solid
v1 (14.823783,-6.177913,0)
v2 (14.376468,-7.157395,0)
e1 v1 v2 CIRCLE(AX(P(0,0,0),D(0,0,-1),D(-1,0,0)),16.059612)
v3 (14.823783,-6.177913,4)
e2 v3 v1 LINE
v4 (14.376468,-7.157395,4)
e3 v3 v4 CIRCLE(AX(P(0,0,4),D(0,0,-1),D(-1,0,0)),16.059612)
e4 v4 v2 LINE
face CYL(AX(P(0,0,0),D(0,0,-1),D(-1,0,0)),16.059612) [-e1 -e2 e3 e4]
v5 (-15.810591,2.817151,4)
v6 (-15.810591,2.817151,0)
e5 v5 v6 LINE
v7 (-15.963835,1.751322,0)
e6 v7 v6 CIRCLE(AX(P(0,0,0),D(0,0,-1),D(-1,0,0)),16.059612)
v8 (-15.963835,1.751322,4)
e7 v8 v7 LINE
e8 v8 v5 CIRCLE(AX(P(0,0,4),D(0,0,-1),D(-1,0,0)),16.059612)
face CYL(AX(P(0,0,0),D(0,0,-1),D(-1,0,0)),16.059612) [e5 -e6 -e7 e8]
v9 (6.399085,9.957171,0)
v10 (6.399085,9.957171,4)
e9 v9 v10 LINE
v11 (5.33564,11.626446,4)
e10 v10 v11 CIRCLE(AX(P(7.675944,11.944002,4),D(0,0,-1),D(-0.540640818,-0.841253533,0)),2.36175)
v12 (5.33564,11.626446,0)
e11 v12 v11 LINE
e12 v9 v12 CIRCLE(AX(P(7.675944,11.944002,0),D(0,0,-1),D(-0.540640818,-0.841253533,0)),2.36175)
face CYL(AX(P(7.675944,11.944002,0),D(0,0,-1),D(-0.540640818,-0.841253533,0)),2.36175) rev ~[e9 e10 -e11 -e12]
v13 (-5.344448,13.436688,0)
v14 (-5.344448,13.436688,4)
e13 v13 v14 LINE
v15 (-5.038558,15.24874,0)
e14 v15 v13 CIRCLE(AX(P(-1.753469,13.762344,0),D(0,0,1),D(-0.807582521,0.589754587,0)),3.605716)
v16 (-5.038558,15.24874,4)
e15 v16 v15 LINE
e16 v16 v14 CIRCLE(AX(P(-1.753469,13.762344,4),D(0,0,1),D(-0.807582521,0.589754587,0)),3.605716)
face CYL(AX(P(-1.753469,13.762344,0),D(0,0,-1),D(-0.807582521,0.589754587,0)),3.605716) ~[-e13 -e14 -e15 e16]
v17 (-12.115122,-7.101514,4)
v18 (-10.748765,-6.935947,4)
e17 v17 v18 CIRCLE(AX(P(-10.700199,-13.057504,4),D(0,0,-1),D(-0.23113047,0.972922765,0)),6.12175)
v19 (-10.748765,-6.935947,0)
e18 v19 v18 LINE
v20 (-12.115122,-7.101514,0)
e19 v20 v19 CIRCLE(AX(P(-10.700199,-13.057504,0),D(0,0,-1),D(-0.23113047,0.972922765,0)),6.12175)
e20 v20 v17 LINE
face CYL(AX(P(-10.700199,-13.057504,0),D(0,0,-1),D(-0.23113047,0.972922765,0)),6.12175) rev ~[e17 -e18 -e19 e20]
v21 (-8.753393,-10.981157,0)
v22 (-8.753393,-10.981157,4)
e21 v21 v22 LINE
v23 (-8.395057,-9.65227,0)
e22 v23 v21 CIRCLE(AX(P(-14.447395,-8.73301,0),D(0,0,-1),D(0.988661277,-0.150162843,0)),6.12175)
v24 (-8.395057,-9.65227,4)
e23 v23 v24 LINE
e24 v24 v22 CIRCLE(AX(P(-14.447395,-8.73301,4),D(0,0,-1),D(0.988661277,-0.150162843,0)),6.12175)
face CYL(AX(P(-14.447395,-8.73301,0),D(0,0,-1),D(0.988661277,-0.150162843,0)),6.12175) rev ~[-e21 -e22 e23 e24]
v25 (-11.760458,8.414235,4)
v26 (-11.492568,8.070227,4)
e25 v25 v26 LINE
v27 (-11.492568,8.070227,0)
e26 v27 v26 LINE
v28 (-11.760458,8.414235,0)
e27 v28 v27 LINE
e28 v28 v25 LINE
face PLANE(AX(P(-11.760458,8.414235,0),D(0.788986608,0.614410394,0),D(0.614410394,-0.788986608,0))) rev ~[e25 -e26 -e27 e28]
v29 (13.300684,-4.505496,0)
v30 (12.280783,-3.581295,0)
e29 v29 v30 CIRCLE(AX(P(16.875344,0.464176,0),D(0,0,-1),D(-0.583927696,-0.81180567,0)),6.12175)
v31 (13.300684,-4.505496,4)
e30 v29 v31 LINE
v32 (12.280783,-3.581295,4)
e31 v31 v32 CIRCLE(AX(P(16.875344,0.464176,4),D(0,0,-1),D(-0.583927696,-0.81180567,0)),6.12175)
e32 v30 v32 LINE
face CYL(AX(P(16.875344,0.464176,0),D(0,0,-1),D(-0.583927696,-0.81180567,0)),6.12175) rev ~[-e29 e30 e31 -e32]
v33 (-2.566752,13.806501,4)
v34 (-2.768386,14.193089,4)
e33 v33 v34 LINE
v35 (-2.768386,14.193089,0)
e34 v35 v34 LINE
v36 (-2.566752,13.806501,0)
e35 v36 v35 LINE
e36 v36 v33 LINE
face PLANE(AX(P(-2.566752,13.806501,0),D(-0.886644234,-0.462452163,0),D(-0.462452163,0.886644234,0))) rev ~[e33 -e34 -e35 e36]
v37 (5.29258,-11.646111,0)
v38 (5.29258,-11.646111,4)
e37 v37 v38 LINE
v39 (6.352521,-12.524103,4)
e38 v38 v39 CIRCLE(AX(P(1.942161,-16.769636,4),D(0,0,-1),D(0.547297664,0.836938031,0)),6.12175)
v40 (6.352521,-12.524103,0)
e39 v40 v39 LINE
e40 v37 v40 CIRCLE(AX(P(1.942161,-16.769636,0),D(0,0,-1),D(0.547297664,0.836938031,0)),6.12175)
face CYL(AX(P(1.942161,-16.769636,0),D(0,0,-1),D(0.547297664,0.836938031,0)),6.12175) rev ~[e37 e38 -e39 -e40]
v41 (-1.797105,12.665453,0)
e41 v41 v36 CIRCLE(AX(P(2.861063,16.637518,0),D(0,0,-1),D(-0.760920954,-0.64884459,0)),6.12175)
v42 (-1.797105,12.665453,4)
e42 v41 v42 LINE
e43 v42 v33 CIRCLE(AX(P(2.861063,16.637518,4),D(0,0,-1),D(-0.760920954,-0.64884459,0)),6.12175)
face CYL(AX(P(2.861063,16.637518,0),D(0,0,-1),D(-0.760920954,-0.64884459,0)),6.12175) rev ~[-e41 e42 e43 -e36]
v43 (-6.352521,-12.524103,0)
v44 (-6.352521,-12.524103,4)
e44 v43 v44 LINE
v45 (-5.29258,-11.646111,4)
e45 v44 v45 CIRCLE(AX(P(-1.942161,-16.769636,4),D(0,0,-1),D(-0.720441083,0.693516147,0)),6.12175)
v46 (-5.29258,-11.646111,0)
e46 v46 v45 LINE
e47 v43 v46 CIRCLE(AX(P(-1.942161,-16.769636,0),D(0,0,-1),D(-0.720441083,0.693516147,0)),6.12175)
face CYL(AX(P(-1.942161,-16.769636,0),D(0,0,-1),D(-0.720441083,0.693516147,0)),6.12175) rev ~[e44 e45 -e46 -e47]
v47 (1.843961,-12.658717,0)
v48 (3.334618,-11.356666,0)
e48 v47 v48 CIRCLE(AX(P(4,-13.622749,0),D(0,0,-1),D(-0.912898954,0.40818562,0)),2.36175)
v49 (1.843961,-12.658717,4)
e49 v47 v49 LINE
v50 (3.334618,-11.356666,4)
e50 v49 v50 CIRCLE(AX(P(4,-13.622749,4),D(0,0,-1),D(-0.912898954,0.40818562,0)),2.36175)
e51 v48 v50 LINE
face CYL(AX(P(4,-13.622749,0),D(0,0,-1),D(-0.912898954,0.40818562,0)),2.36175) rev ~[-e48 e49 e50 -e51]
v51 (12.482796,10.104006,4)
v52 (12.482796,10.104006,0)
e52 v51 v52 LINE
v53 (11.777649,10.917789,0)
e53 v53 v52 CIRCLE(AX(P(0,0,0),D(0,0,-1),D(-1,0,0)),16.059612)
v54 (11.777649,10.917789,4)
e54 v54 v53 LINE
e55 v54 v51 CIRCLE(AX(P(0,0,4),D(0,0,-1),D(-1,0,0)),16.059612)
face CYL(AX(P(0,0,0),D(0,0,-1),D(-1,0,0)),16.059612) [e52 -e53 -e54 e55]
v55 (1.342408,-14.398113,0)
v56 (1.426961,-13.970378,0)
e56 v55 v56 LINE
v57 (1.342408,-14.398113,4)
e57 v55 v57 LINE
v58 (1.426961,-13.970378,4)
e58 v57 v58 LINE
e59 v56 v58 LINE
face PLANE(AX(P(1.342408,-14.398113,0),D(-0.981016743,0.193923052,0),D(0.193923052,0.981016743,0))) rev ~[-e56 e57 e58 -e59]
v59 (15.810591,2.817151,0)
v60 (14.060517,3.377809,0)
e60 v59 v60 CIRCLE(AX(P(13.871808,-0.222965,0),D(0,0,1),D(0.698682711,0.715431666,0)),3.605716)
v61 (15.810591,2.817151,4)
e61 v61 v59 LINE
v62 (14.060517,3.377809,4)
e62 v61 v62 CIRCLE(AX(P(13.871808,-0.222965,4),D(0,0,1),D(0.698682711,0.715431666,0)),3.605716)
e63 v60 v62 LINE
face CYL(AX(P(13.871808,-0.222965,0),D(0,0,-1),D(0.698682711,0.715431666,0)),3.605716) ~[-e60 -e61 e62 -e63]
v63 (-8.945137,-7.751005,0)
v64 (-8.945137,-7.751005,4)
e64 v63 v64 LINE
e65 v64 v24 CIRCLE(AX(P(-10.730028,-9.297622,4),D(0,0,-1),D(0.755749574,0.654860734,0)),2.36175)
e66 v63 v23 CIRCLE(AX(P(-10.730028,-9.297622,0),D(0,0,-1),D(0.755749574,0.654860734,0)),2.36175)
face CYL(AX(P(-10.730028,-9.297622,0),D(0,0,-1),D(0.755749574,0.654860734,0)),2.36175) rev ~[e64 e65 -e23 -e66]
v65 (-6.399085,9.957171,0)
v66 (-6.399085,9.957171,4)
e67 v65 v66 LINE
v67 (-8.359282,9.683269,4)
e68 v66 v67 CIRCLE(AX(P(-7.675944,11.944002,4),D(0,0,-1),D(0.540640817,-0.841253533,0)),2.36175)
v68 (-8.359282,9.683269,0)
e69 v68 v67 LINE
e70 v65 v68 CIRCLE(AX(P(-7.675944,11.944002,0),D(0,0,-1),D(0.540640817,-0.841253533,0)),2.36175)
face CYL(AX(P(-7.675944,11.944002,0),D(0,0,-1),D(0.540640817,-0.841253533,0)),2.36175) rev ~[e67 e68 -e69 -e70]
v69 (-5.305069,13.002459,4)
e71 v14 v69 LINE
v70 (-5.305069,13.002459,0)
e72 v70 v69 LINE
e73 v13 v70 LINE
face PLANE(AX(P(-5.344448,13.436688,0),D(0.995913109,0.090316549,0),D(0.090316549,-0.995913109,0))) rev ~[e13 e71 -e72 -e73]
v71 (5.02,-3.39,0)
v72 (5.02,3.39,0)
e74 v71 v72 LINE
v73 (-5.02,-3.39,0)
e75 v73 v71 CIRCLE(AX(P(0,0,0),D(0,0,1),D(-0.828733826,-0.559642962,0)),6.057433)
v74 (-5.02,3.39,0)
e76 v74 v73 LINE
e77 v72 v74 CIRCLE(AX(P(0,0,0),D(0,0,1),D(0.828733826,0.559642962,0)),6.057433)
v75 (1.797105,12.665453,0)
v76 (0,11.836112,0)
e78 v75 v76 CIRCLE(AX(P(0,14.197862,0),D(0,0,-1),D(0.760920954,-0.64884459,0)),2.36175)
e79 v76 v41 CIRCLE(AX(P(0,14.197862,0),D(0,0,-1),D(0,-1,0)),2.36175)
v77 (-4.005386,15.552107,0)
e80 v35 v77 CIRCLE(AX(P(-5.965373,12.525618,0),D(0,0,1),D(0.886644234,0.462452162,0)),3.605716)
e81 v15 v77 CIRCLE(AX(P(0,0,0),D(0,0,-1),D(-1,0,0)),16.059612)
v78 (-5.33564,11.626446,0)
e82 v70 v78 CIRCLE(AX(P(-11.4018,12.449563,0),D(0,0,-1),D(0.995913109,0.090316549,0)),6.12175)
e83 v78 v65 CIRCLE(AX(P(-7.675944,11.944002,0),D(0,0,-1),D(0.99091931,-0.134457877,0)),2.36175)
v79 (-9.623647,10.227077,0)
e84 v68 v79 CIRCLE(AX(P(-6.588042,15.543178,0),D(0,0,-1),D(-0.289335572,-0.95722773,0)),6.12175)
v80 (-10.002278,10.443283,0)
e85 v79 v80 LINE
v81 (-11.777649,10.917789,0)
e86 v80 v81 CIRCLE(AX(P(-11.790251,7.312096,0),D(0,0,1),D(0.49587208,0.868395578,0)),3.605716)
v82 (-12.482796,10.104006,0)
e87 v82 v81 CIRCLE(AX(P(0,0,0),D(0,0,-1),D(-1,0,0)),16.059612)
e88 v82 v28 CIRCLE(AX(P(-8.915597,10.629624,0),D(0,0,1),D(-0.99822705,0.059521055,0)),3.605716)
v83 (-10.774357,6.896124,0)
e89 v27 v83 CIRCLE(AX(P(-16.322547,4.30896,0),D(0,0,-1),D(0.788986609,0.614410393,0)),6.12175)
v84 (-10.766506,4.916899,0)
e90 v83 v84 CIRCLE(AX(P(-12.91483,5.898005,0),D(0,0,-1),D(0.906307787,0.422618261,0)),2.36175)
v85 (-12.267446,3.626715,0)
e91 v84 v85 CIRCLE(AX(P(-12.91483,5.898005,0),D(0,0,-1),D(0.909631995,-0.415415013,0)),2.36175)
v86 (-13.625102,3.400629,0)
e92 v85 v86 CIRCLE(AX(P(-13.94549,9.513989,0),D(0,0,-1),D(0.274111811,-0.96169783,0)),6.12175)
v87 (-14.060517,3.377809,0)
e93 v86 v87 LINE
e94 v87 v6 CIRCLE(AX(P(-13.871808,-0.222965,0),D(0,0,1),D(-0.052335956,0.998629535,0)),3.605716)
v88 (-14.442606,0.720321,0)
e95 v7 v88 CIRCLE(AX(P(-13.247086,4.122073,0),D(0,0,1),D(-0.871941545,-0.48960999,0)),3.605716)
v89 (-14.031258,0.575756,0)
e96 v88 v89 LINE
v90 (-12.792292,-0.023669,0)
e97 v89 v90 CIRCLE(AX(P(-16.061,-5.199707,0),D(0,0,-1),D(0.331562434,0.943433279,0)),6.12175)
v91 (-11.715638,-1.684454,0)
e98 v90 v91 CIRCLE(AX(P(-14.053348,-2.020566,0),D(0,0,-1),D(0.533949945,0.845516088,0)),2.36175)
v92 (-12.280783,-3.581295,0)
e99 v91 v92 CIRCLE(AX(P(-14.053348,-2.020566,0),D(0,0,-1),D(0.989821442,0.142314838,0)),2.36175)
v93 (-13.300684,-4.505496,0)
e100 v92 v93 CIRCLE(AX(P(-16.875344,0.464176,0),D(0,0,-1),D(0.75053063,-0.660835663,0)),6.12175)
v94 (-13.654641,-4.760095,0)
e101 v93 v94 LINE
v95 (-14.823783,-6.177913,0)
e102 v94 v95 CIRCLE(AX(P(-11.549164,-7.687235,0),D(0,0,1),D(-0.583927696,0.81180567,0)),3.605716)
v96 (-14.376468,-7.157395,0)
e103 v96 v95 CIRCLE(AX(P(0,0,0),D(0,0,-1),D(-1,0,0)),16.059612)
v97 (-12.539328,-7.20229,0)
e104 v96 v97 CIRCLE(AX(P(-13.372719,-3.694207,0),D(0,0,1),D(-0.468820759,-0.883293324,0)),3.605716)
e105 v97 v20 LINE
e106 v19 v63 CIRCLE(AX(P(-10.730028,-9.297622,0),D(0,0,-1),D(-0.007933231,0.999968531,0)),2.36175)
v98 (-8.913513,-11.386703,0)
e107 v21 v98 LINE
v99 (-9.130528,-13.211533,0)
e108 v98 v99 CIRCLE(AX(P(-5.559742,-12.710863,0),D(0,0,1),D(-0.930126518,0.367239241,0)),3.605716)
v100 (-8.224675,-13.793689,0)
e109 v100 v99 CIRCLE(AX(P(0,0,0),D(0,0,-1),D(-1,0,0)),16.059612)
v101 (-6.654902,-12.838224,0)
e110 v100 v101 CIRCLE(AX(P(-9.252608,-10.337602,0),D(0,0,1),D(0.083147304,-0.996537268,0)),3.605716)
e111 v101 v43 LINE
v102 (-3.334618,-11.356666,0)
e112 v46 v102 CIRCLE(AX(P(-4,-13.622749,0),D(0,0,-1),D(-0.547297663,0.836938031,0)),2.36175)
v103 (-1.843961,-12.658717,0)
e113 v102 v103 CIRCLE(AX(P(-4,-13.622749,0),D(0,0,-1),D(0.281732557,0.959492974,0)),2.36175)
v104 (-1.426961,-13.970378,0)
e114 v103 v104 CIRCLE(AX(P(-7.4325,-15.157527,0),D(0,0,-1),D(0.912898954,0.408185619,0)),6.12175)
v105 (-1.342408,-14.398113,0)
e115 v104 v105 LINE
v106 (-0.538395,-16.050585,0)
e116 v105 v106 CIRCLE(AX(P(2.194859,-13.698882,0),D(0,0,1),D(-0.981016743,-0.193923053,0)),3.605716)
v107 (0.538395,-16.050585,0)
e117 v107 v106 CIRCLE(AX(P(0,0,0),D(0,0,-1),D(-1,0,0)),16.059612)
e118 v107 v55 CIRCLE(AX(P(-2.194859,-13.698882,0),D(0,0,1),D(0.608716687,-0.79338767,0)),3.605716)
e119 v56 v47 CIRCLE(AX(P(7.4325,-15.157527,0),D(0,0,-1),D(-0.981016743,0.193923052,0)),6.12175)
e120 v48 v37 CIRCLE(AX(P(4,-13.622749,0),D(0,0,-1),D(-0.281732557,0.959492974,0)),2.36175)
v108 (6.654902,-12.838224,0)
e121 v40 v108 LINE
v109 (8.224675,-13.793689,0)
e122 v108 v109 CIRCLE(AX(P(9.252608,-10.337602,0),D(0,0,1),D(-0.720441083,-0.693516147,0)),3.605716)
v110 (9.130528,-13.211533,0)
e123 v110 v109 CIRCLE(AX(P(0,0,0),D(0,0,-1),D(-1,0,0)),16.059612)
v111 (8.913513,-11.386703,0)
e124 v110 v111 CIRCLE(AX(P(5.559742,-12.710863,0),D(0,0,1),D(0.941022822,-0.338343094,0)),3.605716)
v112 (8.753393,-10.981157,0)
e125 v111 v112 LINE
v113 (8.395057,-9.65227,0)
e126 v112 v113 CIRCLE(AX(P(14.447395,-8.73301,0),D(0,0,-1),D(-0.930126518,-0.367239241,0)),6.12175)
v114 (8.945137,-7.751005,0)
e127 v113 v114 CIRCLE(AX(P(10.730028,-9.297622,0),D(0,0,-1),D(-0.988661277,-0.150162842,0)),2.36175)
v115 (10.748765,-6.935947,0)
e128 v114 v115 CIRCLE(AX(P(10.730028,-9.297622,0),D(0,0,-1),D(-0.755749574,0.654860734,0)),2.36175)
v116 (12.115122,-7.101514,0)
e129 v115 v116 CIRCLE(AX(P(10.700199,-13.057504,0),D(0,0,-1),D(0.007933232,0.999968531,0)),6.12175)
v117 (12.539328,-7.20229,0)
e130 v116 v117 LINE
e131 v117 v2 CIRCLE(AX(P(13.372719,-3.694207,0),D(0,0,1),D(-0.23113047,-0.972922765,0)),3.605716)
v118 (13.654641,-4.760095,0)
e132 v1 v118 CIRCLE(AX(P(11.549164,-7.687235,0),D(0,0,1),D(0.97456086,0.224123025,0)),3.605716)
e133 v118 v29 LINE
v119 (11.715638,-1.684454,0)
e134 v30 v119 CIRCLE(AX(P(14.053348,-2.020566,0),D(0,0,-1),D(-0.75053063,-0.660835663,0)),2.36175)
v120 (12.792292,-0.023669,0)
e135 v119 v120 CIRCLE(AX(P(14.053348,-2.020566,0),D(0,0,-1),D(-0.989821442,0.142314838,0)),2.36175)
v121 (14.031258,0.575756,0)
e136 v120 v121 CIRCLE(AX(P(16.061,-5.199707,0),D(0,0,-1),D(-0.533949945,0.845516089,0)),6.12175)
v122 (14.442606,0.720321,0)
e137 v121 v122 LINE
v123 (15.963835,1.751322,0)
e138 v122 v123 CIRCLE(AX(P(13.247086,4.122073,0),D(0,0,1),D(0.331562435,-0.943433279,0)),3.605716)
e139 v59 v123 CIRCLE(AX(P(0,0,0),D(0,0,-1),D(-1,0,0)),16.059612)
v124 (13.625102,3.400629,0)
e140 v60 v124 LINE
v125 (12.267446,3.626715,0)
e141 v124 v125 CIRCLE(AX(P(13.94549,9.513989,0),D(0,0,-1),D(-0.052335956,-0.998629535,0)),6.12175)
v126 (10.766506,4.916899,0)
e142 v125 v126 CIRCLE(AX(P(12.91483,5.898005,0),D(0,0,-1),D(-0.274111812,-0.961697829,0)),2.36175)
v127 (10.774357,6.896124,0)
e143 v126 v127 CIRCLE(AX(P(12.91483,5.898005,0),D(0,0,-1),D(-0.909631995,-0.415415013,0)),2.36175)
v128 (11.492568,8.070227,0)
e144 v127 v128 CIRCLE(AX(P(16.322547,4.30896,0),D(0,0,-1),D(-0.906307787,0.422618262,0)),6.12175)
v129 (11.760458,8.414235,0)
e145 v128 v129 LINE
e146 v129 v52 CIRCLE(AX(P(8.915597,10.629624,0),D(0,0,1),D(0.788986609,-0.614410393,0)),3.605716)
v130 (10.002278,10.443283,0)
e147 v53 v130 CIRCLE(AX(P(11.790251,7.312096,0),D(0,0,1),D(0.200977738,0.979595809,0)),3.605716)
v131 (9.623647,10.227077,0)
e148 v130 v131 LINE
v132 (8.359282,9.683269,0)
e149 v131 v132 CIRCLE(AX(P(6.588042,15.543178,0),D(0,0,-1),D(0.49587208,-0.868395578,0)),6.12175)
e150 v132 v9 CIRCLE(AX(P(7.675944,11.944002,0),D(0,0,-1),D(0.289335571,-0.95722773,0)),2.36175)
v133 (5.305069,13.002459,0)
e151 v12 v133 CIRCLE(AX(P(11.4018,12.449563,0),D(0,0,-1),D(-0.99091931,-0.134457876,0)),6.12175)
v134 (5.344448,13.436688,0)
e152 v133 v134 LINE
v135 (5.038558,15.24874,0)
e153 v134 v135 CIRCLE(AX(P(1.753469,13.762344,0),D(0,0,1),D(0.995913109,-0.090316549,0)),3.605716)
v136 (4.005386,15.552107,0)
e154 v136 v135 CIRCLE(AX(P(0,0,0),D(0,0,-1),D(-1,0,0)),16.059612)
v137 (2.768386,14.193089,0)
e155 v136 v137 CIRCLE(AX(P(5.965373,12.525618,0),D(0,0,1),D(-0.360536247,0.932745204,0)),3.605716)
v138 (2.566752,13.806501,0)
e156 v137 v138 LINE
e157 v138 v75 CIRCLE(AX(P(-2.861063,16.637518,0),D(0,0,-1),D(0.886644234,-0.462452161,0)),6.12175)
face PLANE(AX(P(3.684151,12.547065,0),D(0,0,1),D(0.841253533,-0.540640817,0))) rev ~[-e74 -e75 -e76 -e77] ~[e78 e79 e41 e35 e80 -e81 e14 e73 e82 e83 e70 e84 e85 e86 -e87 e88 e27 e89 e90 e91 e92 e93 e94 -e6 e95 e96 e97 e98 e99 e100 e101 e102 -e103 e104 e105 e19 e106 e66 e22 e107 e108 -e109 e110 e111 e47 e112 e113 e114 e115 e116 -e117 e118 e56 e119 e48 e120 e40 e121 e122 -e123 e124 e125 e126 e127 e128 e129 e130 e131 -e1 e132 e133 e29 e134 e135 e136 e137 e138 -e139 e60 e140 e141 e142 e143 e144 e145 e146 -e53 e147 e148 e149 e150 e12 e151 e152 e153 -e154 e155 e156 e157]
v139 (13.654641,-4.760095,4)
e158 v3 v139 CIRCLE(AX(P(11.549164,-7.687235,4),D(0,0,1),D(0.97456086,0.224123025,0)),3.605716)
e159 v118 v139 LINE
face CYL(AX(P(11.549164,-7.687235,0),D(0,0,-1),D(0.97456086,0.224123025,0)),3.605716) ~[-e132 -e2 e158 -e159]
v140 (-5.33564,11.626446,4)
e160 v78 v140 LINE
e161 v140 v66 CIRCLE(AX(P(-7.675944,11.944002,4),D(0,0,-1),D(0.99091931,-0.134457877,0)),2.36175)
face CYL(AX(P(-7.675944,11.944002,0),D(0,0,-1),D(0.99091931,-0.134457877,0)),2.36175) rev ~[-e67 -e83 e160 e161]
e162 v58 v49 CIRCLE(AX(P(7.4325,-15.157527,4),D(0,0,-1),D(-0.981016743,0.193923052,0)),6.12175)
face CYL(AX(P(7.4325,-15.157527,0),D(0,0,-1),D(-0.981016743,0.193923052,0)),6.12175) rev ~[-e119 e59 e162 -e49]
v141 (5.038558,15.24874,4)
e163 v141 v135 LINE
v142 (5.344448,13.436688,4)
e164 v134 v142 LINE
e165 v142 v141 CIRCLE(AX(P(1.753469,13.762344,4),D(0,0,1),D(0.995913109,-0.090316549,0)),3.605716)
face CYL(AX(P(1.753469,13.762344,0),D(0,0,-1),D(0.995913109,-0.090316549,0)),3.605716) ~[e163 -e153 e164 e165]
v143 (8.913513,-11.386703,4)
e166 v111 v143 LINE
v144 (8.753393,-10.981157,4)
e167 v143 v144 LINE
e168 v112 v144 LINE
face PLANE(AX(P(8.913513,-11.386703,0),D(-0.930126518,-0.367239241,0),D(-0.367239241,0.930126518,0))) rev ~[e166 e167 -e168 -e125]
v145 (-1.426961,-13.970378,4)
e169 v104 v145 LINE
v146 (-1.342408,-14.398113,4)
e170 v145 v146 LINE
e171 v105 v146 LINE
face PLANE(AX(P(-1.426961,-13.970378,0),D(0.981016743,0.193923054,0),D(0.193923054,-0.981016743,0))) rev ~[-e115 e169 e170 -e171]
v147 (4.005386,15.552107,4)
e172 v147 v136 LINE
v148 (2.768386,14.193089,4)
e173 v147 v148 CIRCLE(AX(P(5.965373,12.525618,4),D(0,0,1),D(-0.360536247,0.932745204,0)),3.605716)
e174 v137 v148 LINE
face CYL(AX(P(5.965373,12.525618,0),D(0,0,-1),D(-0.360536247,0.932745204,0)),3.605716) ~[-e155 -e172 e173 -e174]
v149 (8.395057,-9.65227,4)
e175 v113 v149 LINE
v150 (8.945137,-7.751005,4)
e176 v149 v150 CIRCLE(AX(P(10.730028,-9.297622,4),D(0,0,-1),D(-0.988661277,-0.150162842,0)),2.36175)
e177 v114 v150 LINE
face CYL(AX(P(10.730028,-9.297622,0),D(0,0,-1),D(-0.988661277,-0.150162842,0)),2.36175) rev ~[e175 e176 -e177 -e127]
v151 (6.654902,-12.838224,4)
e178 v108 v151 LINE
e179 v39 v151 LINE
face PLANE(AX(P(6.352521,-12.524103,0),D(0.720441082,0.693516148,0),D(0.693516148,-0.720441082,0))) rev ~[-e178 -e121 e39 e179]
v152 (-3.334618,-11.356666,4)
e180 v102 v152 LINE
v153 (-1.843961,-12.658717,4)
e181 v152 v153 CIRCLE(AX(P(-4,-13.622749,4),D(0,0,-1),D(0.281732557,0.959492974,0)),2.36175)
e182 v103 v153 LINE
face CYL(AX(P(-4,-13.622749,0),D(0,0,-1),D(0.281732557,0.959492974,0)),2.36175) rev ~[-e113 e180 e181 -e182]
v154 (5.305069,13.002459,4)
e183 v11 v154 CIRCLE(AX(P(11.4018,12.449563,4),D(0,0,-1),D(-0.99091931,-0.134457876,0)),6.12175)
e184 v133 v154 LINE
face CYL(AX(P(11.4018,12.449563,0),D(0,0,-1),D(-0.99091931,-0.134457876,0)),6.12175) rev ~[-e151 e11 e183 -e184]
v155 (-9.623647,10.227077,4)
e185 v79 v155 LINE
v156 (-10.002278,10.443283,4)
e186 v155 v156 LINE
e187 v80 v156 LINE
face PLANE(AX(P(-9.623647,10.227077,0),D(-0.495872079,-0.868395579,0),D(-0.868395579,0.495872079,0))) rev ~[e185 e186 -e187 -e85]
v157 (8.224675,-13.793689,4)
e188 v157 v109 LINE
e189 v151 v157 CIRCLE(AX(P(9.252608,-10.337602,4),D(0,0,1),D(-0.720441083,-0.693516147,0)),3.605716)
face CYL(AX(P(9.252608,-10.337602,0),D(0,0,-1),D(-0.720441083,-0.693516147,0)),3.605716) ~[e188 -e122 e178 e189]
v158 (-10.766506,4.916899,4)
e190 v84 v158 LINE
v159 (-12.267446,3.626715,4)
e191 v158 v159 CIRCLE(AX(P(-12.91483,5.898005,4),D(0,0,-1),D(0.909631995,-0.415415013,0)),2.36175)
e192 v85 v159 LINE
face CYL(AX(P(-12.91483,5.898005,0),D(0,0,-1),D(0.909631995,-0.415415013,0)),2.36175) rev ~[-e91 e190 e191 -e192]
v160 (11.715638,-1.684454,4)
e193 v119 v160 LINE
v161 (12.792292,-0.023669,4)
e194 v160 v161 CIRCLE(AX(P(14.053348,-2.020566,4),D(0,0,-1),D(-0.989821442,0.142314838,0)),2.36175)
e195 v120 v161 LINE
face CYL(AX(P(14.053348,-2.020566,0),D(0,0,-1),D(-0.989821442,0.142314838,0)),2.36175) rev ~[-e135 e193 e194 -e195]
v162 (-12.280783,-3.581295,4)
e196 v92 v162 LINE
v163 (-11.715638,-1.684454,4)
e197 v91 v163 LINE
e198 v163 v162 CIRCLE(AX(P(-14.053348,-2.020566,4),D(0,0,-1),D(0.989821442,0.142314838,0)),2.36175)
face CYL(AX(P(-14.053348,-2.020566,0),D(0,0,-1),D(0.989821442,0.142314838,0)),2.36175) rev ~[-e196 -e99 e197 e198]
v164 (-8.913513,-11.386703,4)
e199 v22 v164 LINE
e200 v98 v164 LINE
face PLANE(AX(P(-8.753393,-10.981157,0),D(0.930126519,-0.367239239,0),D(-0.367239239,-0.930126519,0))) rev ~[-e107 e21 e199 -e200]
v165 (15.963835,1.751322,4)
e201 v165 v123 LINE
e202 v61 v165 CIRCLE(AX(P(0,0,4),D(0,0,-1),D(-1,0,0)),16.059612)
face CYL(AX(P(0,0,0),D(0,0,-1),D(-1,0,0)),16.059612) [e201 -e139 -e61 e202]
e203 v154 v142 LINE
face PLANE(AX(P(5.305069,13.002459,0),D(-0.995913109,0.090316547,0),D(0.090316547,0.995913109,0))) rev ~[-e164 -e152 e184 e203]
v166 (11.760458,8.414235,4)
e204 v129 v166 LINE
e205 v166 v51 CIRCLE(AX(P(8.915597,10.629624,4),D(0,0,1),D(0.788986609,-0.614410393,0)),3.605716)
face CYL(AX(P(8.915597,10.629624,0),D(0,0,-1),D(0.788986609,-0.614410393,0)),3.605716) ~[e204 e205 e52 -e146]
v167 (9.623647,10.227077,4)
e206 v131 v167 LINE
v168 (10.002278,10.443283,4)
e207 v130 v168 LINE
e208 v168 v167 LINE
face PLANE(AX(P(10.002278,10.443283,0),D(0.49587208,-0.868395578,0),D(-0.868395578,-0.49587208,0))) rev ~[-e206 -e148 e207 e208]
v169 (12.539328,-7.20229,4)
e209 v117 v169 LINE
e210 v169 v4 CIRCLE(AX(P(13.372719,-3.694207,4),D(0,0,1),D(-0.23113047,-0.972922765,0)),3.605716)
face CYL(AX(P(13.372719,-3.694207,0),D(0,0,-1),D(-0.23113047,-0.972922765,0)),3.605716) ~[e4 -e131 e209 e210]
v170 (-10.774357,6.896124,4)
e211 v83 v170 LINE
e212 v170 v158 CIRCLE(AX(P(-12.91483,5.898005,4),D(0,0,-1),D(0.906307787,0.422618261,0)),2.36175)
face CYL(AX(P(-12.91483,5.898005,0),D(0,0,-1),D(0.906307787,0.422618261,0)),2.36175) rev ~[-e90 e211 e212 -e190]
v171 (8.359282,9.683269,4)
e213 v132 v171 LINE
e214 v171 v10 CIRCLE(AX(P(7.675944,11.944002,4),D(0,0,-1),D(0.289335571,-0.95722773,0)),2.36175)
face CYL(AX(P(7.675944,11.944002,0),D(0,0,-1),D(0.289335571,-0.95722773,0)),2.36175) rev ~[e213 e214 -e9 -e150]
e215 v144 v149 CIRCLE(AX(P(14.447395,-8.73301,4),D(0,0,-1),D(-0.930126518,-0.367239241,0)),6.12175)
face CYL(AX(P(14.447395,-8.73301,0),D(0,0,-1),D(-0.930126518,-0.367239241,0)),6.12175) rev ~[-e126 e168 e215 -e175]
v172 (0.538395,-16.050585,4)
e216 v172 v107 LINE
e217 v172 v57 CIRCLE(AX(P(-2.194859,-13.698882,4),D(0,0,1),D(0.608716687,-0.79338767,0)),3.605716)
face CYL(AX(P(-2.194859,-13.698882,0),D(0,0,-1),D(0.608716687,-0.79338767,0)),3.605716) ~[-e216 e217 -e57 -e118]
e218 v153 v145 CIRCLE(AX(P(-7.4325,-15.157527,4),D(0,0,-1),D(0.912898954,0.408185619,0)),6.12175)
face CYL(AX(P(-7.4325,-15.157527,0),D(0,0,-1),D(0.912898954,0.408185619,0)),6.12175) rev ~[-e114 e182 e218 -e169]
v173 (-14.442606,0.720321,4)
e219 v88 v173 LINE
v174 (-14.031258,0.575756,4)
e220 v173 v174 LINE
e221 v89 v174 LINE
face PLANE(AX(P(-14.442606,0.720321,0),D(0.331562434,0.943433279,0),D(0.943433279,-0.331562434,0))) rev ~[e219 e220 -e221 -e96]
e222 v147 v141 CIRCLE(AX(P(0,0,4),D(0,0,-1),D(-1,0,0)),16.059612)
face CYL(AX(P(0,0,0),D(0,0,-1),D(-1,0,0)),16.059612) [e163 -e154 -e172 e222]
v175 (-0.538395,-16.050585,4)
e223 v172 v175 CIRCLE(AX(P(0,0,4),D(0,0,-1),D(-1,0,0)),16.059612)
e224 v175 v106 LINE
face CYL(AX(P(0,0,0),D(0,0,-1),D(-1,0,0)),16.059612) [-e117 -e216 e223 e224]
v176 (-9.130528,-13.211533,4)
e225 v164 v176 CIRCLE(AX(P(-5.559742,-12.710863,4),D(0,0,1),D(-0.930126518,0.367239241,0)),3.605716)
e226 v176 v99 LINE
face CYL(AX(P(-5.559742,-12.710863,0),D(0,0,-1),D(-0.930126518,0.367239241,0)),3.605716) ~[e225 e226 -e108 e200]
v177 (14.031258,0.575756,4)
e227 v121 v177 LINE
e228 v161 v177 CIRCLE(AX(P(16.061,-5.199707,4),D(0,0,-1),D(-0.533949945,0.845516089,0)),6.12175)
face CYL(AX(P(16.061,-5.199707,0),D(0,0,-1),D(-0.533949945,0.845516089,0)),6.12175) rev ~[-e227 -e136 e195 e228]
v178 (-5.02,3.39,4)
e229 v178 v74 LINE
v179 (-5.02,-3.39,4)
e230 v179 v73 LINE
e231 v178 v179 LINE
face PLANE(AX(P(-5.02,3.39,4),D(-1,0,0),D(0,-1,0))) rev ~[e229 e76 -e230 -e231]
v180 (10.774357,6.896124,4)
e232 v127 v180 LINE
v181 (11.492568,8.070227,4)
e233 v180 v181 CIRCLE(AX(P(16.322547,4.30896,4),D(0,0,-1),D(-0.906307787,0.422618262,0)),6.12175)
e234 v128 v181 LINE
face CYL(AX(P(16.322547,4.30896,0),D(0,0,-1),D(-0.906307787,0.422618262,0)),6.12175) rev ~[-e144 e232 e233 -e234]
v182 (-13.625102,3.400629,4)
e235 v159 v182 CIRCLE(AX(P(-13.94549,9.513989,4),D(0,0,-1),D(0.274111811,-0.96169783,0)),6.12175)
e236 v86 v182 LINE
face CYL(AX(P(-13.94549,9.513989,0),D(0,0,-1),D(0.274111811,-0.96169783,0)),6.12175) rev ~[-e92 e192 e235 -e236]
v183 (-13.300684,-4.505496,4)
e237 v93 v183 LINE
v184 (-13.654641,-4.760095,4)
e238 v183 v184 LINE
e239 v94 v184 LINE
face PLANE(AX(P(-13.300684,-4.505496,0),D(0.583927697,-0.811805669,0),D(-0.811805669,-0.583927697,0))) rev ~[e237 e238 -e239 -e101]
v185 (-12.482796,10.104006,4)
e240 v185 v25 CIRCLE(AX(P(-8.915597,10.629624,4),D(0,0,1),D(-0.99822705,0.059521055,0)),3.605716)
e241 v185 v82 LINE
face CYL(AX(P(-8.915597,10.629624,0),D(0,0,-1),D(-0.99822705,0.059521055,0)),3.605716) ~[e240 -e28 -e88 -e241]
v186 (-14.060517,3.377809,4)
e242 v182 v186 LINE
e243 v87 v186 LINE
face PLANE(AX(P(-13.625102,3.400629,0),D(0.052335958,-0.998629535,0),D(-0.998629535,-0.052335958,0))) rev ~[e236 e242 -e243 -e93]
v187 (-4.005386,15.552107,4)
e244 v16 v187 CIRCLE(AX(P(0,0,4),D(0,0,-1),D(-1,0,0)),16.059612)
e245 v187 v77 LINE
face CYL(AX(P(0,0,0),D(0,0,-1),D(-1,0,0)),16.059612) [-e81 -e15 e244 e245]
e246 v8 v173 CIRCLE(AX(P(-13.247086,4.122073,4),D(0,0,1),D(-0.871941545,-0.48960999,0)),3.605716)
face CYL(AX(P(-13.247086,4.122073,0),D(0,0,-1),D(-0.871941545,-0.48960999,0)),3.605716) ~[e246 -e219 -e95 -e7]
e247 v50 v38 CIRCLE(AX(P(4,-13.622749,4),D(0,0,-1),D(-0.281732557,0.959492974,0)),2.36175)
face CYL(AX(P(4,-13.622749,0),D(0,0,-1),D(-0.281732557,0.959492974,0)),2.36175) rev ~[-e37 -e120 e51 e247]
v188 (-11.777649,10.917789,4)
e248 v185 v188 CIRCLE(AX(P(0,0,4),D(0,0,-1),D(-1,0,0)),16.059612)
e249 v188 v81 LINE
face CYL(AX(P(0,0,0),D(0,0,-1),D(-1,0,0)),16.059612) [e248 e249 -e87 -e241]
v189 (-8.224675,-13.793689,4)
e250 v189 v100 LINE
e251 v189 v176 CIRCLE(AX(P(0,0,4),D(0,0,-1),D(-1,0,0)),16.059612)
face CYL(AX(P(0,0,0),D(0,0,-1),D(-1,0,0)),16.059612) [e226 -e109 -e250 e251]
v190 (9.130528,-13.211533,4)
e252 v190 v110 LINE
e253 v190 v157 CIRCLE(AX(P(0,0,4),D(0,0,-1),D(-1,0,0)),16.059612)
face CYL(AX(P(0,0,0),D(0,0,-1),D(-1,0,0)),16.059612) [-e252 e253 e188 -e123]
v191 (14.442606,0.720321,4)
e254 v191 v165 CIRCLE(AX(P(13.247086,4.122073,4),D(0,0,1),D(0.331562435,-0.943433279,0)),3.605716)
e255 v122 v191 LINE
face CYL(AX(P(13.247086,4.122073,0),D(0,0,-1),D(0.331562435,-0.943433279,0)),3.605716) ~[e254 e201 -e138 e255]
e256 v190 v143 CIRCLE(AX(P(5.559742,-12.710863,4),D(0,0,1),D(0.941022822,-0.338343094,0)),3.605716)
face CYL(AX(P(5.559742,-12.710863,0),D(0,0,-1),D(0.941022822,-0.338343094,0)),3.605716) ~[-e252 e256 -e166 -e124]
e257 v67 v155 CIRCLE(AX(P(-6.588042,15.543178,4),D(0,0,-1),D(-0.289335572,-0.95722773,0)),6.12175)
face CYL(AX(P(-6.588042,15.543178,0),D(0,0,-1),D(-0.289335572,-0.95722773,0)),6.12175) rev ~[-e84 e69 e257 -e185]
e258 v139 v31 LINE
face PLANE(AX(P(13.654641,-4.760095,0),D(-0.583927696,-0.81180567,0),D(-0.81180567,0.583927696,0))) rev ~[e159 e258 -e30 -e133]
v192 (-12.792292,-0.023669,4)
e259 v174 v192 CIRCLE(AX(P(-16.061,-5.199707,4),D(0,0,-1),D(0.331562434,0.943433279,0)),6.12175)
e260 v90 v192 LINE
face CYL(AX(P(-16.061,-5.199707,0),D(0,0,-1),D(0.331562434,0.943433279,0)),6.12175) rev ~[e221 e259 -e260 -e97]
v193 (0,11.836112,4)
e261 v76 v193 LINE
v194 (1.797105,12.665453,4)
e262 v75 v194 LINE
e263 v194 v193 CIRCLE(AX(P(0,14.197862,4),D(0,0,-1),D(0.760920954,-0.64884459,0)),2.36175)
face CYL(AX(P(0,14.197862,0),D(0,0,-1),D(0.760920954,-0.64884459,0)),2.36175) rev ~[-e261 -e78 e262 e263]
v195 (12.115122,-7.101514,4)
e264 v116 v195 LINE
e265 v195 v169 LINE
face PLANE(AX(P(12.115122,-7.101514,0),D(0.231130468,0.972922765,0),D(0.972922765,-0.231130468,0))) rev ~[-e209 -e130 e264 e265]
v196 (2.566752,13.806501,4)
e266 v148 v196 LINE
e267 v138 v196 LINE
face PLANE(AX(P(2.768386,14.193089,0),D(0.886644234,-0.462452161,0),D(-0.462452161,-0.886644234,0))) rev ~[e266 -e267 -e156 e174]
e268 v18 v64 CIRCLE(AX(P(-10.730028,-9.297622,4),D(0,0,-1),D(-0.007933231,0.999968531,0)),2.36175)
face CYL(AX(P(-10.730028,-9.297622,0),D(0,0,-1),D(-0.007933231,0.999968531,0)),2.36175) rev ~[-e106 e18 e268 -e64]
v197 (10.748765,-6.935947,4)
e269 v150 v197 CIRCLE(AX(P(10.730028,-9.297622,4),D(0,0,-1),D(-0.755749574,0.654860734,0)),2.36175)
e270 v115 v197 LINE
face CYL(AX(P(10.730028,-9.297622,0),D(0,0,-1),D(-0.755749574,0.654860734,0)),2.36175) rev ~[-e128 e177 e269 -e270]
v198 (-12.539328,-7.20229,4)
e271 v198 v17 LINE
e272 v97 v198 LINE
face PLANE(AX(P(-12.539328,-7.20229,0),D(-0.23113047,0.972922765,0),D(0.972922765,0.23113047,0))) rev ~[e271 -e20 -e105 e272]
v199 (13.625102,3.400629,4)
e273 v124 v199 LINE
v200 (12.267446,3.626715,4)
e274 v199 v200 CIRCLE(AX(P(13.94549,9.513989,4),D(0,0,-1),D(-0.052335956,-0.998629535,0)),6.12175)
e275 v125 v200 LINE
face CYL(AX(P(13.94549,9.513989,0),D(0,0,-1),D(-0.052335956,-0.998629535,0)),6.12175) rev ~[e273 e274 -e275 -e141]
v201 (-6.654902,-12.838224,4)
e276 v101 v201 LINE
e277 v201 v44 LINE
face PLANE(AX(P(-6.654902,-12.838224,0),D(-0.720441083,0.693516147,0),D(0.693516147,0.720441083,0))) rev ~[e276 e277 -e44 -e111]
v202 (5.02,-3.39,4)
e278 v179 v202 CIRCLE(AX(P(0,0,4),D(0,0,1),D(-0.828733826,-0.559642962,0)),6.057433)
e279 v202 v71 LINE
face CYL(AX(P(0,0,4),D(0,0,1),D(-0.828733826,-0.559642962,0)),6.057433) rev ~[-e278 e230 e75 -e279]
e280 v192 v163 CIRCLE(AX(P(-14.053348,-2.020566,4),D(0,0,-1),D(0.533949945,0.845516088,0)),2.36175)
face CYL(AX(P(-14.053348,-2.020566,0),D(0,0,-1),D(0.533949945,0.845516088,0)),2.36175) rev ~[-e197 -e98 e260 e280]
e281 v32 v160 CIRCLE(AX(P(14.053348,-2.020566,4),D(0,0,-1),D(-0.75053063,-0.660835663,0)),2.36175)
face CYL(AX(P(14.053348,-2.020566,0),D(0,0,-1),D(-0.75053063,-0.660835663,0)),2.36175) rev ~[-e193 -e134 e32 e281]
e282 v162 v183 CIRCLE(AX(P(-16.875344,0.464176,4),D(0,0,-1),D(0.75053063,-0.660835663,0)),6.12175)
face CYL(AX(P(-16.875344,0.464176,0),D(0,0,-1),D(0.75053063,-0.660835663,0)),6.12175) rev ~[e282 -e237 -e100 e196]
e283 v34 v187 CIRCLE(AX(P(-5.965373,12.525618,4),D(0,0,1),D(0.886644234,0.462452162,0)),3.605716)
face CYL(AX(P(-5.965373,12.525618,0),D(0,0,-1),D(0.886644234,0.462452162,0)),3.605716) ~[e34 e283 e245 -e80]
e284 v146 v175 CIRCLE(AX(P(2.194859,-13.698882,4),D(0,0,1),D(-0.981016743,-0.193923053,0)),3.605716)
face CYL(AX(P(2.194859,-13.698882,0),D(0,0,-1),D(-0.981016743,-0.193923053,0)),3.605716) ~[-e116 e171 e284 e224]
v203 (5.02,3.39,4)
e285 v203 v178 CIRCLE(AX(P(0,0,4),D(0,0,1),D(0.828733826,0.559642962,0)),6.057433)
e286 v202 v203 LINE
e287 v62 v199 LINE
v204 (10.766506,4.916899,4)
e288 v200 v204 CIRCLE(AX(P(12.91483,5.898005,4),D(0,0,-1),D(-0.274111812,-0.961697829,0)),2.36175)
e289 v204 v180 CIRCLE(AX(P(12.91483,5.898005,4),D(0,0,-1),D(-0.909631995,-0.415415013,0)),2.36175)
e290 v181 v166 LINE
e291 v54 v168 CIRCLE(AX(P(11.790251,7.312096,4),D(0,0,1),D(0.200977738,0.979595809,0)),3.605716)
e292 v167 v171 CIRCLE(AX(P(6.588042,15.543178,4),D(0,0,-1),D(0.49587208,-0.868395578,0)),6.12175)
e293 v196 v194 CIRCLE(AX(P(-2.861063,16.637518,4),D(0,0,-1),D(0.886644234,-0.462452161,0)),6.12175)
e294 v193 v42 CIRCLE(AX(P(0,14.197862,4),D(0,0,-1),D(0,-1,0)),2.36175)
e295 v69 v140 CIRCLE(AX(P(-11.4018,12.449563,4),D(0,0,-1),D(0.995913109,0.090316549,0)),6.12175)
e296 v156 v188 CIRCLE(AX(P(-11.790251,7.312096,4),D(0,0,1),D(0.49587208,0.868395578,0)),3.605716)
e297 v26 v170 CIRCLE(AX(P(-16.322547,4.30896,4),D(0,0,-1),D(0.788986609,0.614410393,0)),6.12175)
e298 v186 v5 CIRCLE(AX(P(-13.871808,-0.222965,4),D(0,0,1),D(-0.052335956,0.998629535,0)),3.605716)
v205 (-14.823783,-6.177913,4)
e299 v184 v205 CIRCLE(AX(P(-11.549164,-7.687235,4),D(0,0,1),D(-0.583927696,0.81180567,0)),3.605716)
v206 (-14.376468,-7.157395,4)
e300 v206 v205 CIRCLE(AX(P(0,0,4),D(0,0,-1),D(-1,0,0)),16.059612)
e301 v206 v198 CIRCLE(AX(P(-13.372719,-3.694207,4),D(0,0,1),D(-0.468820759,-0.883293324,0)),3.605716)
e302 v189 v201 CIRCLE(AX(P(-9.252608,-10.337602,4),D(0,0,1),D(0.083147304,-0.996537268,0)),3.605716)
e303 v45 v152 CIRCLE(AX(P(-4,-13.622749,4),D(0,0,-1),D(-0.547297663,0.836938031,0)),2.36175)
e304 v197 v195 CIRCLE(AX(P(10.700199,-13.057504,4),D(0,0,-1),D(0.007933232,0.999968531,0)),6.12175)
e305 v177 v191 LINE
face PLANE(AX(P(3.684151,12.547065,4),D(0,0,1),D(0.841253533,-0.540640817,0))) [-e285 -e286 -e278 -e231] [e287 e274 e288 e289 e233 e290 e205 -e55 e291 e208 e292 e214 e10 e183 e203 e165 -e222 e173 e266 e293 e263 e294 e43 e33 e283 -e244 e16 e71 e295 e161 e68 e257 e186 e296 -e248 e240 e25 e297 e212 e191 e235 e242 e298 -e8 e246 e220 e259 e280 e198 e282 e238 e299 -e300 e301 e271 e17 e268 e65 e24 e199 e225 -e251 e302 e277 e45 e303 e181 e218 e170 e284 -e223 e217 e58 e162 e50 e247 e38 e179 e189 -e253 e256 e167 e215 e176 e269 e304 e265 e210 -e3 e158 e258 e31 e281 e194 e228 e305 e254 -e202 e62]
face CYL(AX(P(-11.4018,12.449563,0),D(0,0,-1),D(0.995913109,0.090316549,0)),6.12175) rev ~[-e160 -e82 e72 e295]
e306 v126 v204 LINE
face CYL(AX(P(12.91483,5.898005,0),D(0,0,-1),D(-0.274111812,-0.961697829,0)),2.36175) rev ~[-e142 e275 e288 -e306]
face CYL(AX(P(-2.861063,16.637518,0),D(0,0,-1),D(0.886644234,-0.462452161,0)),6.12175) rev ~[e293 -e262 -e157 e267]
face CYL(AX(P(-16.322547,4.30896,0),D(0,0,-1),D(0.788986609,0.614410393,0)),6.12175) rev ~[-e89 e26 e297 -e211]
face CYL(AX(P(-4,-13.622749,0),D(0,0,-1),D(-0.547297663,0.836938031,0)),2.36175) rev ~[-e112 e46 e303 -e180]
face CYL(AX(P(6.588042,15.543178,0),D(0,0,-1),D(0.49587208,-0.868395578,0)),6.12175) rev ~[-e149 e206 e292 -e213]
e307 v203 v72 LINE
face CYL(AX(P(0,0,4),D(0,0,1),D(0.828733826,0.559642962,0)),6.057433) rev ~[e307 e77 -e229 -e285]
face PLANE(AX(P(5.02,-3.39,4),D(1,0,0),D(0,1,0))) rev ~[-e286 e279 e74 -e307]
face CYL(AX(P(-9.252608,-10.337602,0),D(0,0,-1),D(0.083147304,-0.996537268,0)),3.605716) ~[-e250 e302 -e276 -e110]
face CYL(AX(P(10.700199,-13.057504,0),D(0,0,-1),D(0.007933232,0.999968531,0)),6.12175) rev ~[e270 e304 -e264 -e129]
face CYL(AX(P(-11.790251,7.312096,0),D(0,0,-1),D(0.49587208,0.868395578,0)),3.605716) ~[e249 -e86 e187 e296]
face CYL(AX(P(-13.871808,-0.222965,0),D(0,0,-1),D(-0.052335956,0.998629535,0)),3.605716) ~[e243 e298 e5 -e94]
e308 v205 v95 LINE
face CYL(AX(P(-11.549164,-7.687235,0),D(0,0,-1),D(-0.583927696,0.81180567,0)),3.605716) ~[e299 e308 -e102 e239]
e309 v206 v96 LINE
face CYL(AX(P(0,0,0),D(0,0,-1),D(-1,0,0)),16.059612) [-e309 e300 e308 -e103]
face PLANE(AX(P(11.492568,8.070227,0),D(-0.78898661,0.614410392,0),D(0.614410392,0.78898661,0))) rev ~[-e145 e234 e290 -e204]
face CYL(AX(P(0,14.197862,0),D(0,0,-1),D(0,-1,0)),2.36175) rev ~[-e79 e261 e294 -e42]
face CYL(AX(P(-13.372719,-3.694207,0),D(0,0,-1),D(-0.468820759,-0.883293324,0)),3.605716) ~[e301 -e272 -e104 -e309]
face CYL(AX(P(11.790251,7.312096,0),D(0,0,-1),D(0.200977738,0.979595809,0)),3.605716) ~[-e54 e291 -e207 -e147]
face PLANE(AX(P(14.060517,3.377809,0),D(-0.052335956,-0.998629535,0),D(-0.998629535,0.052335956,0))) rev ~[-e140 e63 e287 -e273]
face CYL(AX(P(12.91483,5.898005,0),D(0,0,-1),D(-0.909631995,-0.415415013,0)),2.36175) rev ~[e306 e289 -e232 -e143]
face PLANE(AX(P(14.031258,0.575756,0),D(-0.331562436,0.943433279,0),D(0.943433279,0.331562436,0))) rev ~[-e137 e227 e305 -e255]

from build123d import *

# Parameters (mm, degrees)
ESQUISSE2_R                  = 11.836112132
BOSS_EXTRU_1_DEPTH           = 4
BOSS_EXTRU_2_START           = -4
BOSS_EXTRU_2_DEPTH           = 4
R_P_TITION_CIRCULAIRE1_COUNT = 11
ESQUISSE6_R                  = 16.559612132
ESQUISSE6_R_2                = 16.059612132
ENL_V_MAT_EXTRU_3_DEPTH      = 24.640803164
CUT_EXTRUDE1_DEPTH           = 10


with BuildPart() as part:
    # Esquisse2 → Boss.-Extru.1 (new body)
    with BuildSketch(Plane.XY):
        Circle(ESQUISSE2_R)
    extrude(amount=BOSS_EXTRU_1_DEPTH)

    # Esquisse3 → Boss.-Extru.2 (add)
    with BuildSketch(Plane.XY.offset(4).offset(BOSS_EXTRU_2_START)):
        with BuildLine():
            Line((-5.344448394, 13.436688428), (-5.305069319, 13.002458629))
            ThreePointArc((-5.305069319, 13.002458629), (-5.28156066, 12.313590322), (-5.335640108, 11.626445786))
            ThreePointArc((-5.335640108, 11.626445786), (-5.684064042, 10.675034327), (-6.399085338, 9.957171146))
            ThreePointArc((-6.399085338, 9.957171146), (-3.334618134, 11.356666425), (0, 11.836112132))
            ThreePointArc((0, 11.836112132), (-0.989620329, 12.053447371), (-1.797105063, 12.665453421))
            ThreePointArc((-1.797105063, 12.665453421), (-2.214097973, 13.214278633), (-2.566751555, 13.806501271))
            Line((-2.566751555, 13.806501271), (-2.768386123, 14.193088558))
            ThreePointArc((-2.768386123, 14.193088558), (-3.562335584, 15.213850424), (-4.665381866, 15.888831486))
            ThreePointArc((-4.665381866, 15.888831486), (-5.228401135, 14.72464944), (-5.344448394, 13.436688428))
        make_face()
    boss_extru_2 = extrude(amount=BOSS_EXTRU_2_DEPTH)

    # Répétition circulaire1: Boss.-Extru.2 ×11 about axis
    r_p_tition_circulaire1_axis = Axis((0, 0, 0), (0, 0, 1))
    for i in range(1, R_P_TITION_CIRCULAIRE1_COUNT):
        add(boss_extru_2.rotate(r_p_tition_circulaire1_axis, i * 360 / R_P_TITION_CIRCULAIRE1_COUNT))

    # Esquisse6 → Enlèv. mat.-Extru.3 (cut, through all)
    with BuildSketch(Plane(origin=(0, 0, 0), x_dir=(-1, 0, 0), z_dir=(0, 0, -1))):
        Circle(ESQUISSE6_R)
        Circle(ESQUISSE6_R_2, mode=Mode.SUBTRACT)
    extrude(amount=-ENL_V_MAT_EXTRU_3_DEPTH, mode=Mode.SUBTRACT)

    # Sketch1 → Cut-Extrude1 (cut)
    with BuildSketch(Plane.XY.offset(4)):
        with BuildLine():
            Line((-5.02, 3.39), (-5.02, -3.39))
            ThreePointArc((-5.02, -3.39), (0, -6.05743345), (5.02, -3.39))
            Line((5.02, -3.39), (5.02, 3.39))
            ThreePointArc((5.02, 3.39), (0, 6.05743345), (-5.02, 3.39))
        make_face()
    extrude(amount=-CUT_EXTRUDE1_DEPTH, mode=Mode.SUBTRACT)


solid = part.part
